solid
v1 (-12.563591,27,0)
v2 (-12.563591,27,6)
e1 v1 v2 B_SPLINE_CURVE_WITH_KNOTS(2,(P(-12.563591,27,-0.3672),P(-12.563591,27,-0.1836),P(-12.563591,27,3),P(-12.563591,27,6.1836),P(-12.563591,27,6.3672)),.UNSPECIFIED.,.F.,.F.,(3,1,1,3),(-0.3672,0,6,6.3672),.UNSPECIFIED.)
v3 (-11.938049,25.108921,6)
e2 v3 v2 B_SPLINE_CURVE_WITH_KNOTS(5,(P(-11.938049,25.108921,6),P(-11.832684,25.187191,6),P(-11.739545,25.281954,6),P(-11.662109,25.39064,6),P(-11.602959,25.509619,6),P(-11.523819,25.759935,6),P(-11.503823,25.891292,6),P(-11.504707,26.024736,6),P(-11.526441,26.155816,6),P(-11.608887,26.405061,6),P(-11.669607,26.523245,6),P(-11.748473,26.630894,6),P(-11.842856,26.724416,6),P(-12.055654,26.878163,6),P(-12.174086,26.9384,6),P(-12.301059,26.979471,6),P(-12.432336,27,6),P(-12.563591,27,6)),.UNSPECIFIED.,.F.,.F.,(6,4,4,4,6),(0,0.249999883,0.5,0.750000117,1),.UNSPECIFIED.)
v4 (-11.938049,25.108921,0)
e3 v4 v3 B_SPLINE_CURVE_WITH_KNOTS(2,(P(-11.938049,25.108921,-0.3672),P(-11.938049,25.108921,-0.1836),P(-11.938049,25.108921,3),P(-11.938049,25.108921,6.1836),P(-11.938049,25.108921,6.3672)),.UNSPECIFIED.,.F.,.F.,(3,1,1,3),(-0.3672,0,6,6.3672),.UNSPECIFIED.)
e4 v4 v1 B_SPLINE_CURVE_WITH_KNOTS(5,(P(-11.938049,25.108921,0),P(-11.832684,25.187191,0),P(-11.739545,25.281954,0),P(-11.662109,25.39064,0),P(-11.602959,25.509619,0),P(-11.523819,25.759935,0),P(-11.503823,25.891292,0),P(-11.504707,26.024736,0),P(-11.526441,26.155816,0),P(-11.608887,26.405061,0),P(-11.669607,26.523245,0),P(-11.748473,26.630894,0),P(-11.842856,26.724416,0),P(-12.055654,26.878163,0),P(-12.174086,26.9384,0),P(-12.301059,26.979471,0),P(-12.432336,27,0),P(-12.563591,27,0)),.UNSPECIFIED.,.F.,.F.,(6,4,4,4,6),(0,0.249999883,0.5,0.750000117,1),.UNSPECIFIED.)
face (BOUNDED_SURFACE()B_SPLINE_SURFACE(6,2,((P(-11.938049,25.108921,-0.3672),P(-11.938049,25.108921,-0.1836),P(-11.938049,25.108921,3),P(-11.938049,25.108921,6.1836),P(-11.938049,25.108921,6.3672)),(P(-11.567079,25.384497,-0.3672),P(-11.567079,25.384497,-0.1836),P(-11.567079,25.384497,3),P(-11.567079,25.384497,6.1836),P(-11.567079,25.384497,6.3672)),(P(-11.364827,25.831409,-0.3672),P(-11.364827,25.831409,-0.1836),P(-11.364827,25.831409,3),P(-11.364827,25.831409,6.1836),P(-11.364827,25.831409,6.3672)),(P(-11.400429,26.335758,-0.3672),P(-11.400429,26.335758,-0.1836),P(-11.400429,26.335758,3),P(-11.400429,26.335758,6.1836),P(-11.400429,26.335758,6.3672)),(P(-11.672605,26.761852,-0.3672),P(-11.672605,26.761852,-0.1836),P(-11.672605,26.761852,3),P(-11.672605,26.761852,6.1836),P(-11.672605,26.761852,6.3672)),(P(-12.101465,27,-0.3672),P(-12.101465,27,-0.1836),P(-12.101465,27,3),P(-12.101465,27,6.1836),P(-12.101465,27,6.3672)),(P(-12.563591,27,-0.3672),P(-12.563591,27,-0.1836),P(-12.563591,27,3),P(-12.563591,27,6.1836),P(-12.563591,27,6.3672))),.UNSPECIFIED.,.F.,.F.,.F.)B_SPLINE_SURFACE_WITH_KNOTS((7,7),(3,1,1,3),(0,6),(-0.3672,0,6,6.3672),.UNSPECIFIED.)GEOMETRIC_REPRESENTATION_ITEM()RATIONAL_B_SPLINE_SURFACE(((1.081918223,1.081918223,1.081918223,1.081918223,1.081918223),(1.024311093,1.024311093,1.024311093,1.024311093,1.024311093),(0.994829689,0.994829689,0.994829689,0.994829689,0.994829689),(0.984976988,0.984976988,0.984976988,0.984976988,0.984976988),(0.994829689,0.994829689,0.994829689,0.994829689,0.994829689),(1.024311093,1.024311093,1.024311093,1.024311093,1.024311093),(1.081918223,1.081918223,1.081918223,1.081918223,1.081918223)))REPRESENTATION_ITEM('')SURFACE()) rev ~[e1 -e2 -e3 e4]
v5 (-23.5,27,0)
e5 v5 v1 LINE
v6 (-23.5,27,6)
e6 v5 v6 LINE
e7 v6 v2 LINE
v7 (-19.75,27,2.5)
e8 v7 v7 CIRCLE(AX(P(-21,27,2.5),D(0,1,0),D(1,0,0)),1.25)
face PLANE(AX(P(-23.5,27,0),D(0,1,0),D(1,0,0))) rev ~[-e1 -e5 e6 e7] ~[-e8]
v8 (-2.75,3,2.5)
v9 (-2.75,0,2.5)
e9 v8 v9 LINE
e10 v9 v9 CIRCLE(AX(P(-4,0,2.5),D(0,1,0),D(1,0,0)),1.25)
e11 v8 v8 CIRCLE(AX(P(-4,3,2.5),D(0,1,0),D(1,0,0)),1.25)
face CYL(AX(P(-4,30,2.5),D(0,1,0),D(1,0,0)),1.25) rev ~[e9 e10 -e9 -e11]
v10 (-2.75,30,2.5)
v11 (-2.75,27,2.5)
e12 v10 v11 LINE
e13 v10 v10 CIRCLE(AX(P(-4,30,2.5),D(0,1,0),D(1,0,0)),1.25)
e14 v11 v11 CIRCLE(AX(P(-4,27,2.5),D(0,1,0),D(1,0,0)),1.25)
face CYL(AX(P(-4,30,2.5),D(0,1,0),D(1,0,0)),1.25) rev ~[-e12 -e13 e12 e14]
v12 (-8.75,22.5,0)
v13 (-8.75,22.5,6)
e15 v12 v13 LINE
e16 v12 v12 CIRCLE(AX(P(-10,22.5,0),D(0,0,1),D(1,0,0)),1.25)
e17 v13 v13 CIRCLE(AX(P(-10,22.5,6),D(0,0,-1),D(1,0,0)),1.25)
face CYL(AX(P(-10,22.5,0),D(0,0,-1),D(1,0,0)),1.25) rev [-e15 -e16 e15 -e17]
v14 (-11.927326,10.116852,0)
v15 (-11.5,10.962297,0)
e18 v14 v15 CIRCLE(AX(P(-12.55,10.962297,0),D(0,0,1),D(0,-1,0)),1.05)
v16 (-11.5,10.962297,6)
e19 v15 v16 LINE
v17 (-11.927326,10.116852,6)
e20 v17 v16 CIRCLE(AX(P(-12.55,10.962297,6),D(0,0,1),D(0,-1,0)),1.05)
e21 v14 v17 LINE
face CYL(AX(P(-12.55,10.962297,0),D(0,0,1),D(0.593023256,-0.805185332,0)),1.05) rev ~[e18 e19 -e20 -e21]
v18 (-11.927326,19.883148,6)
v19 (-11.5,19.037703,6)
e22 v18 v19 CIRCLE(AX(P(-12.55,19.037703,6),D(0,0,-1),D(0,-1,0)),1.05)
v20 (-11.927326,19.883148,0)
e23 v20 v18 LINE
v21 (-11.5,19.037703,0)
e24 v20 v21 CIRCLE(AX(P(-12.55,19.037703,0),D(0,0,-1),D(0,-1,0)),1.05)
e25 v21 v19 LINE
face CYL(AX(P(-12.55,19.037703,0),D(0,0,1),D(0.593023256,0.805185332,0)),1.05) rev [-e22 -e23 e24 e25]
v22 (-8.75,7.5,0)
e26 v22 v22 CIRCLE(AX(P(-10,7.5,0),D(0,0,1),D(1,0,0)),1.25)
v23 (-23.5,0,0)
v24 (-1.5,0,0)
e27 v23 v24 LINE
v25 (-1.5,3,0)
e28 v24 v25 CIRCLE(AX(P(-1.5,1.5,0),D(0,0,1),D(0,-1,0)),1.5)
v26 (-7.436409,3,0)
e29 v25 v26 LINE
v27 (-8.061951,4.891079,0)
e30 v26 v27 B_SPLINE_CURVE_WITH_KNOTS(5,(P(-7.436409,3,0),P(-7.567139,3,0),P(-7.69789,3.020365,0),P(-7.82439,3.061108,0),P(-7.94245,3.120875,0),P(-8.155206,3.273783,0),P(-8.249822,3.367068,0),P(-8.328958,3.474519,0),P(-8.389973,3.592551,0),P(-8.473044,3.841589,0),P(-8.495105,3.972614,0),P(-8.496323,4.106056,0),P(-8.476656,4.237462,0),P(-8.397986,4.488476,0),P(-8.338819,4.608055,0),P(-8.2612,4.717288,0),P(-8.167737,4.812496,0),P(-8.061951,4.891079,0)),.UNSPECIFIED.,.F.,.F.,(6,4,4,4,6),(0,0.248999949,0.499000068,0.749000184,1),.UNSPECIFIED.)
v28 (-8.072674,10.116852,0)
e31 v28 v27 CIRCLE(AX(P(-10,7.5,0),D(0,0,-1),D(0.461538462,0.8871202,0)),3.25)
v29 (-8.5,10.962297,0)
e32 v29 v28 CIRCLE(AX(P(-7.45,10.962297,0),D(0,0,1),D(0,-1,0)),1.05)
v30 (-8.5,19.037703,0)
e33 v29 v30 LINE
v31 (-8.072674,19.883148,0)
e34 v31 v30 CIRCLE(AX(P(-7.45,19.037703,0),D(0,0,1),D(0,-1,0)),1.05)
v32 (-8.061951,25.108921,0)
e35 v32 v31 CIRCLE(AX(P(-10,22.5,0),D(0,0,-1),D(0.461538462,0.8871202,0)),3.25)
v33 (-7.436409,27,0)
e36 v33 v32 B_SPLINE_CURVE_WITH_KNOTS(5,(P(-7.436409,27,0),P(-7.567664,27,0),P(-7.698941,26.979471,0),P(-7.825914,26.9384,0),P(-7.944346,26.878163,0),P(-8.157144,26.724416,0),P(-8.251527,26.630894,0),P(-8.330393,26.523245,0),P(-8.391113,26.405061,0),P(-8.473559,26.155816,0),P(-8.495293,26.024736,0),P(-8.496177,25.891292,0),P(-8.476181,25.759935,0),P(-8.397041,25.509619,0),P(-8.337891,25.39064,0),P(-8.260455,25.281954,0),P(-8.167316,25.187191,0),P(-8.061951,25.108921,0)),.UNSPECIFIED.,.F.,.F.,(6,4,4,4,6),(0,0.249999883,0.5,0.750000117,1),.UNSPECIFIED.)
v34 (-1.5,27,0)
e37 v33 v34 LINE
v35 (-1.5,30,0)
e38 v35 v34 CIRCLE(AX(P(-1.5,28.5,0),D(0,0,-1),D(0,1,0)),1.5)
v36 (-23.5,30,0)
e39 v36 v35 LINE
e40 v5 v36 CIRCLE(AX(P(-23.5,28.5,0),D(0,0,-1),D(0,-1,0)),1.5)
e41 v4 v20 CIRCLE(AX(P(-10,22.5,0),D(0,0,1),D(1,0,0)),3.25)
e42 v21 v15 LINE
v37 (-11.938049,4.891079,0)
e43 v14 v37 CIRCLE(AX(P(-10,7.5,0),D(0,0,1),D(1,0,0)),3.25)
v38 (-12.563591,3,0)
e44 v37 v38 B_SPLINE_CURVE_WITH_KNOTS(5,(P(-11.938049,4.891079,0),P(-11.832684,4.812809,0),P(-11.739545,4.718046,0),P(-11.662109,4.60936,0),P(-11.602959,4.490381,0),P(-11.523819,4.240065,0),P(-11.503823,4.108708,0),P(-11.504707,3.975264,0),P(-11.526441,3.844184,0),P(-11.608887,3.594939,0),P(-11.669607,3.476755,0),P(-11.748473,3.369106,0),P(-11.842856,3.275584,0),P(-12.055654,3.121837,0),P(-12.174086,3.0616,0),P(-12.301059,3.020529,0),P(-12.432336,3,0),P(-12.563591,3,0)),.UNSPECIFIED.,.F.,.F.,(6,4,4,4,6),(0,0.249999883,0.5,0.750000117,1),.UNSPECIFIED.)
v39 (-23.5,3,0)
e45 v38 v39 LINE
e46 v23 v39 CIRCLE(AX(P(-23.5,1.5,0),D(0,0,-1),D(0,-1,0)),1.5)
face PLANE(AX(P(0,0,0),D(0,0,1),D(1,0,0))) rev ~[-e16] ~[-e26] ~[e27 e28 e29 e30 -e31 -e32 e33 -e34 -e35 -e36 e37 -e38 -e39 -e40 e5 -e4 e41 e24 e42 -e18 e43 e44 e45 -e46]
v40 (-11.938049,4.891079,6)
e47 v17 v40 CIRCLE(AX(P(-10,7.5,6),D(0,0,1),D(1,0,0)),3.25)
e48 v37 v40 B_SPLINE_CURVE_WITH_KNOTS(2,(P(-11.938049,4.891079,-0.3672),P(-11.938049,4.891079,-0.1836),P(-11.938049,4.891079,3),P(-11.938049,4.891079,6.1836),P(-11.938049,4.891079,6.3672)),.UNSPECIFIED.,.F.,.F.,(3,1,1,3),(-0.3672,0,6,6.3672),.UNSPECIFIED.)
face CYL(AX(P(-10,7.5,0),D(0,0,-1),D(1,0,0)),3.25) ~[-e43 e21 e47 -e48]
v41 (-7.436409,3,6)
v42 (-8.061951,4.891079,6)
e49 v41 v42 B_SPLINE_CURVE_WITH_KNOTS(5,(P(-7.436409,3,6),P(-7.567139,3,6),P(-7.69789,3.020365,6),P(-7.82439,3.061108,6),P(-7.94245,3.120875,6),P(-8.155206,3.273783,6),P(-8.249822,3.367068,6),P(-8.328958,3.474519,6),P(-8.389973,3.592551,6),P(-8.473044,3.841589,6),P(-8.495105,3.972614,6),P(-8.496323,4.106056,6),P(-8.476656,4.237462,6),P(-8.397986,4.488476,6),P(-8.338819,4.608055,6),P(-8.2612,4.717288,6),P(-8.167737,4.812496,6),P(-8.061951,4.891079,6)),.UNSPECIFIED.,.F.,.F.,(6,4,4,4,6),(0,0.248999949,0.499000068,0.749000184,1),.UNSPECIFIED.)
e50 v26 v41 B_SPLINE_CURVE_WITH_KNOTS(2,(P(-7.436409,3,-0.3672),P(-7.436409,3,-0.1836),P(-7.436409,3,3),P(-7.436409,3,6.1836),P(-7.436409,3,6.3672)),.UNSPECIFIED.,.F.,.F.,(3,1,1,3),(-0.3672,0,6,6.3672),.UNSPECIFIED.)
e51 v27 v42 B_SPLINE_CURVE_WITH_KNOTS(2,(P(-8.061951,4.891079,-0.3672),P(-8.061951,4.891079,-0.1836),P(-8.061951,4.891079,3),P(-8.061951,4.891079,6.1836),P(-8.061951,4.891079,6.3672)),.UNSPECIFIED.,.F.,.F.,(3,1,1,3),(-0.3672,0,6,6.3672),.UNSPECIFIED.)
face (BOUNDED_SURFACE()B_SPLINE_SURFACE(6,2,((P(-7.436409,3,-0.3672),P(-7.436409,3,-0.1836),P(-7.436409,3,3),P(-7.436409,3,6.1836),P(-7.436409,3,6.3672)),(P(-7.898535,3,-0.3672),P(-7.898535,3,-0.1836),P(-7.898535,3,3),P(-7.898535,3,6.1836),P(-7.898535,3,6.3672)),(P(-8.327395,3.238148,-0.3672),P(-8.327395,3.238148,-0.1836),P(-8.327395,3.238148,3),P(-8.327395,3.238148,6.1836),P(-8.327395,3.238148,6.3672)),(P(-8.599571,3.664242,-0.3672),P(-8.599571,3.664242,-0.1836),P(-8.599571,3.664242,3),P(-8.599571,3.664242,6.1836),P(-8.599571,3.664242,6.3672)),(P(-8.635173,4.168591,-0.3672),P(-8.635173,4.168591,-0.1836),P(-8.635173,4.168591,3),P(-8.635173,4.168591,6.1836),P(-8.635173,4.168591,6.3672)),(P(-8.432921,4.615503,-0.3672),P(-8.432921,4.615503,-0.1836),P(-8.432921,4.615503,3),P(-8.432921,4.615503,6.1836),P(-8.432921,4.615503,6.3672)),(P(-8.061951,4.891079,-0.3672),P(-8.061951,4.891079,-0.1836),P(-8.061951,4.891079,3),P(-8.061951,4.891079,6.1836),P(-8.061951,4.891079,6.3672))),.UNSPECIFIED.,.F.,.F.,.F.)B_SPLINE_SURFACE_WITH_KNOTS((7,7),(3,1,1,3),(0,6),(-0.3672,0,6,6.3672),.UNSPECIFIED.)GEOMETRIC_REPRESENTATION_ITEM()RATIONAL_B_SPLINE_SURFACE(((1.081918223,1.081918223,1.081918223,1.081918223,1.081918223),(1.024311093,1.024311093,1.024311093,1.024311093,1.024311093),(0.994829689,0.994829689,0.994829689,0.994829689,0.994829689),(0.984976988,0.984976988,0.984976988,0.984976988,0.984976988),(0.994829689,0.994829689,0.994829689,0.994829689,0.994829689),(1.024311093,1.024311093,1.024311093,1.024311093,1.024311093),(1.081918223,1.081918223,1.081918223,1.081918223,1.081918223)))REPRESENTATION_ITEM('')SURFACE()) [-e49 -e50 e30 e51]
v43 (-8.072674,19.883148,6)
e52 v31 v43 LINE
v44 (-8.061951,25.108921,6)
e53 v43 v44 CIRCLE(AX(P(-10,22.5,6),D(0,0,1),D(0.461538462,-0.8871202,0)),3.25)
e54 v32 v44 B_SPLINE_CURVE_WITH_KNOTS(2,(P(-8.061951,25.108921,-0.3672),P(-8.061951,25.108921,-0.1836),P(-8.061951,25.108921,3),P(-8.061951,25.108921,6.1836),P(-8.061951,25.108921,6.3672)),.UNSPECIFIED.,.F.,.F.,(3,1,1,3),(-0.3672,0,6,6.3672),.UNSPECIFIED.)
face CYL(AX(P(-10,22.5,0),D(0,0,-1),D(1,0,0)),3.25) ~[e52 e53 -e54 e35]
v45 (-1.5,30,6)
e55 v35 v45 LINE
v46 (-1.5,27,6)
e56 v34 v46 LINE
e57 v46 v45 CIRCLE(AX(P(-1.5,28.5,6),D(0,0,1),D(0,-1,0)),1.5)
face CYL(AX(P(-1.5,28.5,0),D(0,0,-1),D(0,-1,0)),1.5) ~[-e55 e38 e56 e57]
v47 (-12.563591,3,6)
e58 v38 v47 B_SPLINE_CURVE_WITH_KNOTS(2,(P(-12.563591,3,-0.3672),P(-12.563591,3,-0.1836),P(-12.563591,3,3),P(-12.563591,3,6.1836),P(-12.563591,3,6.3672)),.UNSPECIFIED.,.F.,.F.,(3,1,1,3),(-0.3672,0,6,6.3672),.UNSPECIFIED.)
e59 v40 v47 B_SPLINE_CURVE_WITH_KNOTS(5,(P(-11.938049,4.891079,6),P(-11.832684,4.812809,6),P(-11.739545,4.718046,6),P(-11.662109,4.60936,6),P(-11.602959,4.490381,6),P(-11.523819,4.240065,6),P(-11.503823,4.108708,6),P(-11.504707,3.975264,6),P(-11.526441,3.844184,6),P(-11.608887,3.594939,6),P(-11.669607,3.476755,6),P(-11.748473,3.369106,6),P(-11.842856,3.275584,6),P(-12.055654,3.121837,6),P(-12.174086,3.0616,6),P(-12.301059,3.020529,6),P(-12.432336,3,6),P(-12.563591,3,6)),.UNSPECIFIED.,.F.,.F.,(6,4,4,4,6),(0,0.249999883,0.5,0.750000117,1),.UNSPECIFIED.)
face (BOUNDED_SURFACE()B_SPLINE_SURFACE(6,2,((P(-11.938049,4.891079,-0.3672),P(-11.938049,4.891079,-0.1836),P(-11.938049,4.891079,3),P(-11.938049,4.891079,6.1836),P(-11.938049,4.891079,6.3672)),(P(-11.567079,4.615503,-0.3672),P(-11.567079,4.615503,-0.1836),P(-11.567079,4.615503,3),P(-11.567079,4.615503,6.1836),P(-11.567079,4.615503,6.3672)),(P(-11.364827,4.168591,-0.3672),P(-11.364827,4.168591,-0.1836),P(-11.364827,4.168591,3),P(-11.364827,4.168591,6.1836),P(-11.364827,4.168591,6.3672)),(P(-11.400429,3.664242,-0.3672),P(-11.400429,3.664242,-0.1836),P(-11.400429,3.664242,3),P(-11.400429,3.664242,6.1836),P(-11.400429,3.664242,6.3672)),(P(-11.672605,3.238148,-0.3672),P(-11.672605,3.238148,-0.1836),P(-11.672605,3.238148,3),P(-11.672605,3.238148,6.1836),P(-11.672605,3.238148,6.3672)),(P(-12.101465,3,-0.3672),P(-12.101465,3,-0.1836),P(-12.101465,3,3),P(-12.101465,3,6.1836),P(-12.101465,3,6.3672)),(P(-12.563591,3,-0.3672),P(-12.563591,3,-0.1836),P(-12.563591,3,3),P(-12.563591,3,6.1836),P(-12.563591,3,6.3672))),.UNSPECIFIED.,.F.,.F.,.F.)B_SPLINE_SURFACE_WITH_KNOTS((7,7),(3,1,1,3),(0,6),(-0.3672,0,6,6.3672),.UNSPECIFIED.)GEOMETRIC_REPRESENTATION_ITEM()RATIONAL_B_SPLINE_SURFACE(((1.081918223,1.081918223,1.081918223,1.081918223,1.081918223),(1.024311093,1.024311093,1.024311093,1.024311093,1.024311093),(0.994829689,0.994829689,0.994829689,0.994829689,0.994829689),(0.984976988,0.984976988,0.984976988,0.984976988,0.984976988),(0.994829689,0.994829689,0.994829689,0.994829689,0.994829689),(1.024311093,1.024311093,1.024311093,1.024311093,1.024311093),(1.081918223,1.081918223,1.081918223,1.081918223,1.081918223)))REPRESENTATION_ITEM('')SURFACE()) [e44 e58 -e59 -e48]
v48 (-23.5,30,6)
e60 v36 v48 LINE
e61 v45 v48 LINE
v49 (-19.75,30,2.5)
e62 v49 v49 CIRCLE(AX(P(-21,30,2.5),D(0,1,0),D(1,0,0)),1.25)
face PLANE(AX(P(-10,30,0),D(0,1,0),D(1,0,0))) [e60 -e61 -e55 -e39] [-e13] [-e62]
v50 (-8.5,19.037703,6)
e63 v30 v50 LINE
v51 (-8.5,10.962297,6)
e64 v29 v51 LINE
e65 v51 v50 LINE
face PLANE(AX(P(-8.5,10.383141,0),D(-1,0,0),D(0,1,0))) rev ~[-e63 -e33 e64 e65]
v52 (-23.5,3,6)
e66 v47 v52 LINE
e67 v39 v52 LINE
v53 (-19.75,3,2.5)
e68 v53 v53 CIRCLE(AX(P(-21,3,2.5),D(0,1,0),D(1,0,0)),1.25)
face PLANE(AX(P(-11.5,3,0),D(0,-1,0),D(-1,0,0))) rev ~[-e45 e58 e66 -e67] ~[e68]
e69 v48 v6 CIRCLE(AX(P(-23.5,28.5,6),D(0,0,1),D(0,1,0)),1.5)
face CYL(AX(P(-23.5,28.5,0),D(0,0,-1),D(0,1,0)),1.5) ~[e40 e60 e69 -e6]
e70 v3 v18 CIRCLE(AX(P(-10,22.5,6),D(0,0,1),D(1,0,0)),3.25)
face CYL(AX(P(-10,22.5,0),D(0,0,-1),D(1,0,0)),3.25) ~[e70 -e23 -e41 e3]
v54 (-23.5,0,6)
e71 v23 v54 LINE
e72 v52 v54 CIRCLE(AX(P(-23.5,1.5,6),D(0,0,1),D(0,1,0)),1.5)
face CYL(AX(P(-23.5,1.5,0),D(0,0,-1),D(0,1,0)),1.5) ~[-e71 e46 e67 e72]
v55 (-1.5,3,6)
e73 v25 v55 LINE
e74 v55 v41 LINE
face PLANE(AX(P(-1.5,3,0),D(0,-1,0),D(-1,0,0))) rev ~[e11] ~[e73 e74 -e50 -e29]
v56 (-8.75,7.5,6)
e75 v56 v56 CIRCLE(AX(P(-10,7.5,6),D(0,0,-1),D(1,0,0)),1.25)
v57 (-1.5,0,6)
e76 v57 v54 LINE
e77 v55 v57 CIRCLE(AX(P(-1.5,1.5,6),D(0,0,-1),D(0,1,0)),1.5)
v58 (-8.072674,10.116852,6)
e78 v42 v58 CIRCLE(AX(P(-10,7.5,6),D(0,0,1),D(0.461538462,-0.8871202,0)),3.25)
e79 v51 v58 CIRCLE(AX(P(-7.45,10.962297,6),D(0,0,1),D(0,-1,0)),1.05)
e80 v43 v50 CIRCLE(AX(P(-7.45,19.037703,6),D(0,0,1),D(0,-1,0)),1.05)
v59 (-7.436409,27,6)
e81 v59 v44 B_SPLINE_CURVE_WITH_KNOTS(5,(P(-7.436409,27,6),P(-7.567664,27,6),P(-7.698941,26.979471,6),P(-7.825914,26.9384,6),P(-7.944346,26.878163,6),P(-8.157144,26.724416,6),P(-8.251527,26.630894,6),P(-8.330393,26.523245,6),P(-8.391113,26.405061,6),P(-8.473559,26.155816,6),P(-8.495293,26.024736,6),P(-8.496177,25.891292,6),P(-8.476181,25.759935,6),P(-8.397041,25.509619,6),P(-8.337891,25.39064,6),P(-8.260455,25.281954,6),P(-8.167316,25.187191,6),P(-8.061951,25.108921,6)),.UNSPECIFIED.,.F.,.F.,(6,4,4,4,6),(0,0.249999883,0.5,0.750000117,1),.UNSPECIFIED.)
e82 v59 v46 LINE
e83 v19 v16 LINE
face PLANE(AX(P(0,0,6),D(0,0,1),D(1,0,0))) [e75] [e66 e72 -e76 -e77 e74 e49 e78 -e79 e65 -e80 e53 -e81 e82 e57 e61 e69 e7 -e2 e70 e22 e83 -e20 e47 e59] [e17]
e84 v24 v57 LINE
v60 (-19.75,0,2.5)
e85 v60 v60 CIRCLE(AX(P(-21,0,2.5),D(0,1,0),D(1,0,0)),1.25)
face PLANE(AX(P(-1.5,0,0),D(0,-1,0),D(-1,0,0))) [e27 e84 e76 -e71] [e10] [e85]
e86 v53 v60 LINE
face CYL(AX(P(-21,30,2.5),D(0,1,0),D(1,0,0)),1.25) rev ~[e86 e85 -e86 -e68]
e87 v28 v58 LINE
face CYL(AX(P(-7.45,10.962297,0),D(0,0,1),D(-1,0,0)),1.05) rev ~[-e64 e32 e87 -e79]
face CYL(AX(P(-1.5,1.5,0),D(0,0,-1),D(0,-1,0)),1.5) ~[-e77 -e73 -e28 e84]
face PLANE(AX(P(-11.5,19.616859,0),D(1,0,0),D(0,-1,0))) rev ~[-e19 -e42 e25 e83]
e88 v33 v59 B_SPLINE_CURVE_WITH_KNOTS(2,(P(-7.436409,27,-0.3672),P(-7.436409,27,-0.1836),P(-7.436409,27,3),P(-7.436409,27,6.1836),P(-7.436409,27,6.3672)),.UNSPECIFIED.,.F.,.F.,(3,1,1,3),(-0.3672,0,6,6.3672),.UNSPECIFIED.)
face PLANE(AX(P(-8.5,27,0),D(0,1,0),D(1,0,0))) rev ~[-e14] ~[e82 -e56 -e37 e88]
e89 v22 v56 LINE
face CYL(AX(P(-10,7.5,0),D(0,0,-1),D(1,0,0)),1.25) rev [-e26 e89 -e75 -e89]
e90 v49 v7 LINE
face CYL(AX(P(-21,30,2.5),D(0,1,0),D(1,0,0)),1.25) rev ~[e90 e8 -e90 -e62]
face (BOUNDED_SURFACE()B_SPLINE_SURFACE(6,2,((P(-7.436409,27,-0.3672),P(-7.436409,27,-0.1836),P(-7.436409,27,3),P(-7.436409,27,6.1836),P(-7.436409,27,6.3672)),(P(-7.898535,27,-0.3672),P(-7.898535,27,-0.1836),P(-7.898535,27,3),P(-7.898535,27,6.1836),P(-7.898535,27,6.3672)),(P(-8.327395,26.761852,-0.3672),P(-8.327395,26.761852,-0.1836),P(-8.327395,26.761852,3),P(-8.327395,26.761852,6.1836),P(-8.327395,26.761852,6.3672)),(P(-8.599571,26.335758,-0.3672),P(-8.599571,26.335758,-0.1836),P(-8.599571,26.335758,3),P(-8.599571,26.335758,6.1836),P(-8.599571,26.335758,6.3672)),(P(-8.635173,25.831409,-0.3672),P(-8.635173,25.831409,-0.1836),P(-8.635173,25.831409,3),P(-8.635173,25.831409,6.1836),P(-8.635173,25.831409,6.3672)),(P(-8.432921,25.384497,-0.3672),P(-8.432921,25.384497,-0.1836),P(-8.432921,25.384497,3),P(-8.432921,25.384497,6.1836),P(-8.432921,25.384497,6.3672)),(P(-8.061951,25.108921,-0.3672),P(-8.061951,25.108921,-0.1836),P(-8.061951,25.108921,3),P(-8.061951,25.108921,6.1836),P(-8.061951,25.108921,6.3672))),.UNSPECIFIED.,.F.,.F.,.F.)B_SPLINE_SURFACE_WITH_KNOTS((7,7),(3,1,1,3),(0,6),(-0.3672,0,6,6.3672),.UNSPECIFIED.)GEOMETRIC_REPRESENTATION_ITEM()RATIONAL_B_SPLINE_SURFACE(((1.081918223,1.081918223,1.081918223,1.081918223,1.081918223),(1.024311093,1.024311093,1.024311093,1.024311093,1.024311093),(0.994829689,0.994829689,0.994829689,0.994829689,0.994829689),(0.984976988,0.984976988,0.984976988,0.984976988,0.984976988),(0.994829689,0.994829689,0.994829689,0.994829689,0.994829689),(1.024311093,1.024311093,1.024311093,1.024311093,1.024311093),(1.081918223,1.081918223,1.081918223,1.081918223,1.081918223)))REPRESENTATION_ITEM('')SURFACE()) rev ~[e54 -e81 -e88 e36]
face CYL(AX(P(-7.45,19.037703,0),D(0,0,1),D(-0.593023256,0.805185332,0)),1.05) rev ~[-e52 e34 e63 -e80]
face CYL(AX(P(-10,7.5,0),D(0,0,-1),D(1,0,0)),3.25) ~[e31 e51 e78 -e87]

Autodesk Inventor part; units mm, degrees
ref_plane "YZ Plane" through (0, 0, 0) normal (1, 0, 0) x (0, 1, 0)
ref_plane "XZ Plane" through (0, 0, 0) normal (0, 1, 0) x (-1, 0, 0)
ref_plane "XY Plane" through (0, 0, 0) normal (0, 0, 1) x (1, 0, 0)
sketch "スケッチ1" plane through (0, 0, 0) normal (0, 0, 1) x (1, 0, 0)
  line L0 (0, 0) -> (-25, 0)
  line L1 (-25, 0) -> (-25, 30)
  line L2 (-25, 30) -> (0, 30)
  line L3 (0, 30) -> (0, 0)
  circle A0 centre (-10, 22.5) radius 1.25
  circle A1 centre (-10, 7.5) radius 1.25
  line L4 (-10, 30) -> (-10, 0)
  circle A2 centre (-10, 22.5) radius 3.25
  circle A3 centre (-10, 7.5) radius 3.25
  line L5 (-23.5, 28.5) -> (-1.5, 28.5) construction
  line L6 (-23.5, 27) -> (-1.5, 27)
  line L7 (-1.5, 30) -> (-23.5, 30)
  arc A4 (-23.5, 30) -> (-23.5, 27) centre (-23.5, 28.5) ccw
  arc A5 (-1.5, 27) -> (-1.5, 30) centre (-1.5, 28.5) ccw
  line L8 (-23.5, 1.5) -> (-1.5, 1.5) construction
  line L9 (-23.5, 0) -> (-1.5, 0)
  line L10 (-1.5, 3) -> (-23.5, 3)
  arc A6 (-23.5, 3) -> (-23.5, 0) centre (-23.5, 1.5) ccw
  arc A7 (-1.5, 0) -> (-1.5, 3) centre (-1.5, 1.5) ccw
  line L11 (-10, 28.5) -> (-10, 1.5) construction
  line L12 (-11.5, 28.5) -> (-11.5, 1.5)
  line L13 (-8.5, 1.5) -> (-8.5, 28.5)
  arc A8 (-8.5, 28.5) -> (-11.5, 28.5) centre (-10, 28.5) ccw
  arc A9 (-11.5, 1.5) -> (-8.5, 1.5) centre (-10, 1.5) ccw
  point P0 (-12.5, 28.5)
  point P1 (-12.5, 1.5)
  point P2 (-10, 15)
  point P3 (-11.5, 4.6169)
  point P4 (-11.5, 3)
  point P5 (-1.5, 0)
  point P6 (-8.5, 3)
  point P7 (-8.5, 4.6169)
  point P8 (-8.5, 10.3831)
  point P9 (-8.5, 19.6169)
  point P10 (-8.5, 25.3831)
  point P11 (-8.5, 27)
  point P12 (-11.5, 27)
  point P13 (-11.5, 25.3831)
  point P14 (-11.5, 19.6169)
  point P15 (-11.5, 10.3831)
  dimension "d0" = 25
  dimension "d1" = 30
  dimension "d2" = 2.5
  dimension "d3" = 2.5
  dimension "d4" = 10
  dimension "d5" = 15
  dimension "d6" = 2
  dimension "d7" = 2
  dimension "d8" = 3
  dimension "d9" = 3
  dimension "d10" = 3
  dimension "d11" = 6
extrude "押し出し1" add sketch "スケッチ1" along normal blind 6 contours L0 A9 L13 L10 A7 | A9 L12 L10 L4 | L0 A6 L10 L12 A9 | L4 L10 L13 A9 | A5 L6 L13 A8 L2 | L10 L12 A3 L4 | L4 A3 L13 L10 | A3 L12 L4 A1 | L4 A1 A3 L13 | L13 A2 L4 L6 | L6 L4 A8 L13 | A8 L12 L6 A4 L2 | L4 L6 L12 A8 | L13 A3 | A3 L12 | L4 A2 L12 L6 | L13 A2 L4 A0 | A2 L13 | A3 L4 A2 L13 | L12 A2 L4 A3 | L4 A0 A2 L12 | A2 L12
fillet "フィレット1" radius 1.05 12 edges at (-11.5, 25.3831, 3) (-11.5, 27, 3) (-11.5, 19.6169, 3) (-8.5, 27, 3) (-8.5, 25.3831, 3) (-8.5, 19.6169, 3) (-8.5, 10.3831, 3) (-8.5, 4.6169, 3) (-11.5, 4.6169, 3) (-11.5, 10.3831, 3) (-11.5, 3, 3) (-8.5, 3, 3)
thread "ねじ1" size "M3x0.5" class "6H" standard "ANSI Metric M Profile" full length
thread "ねじ2" size "M3x0.5" class "6H" standard "ANSI Metric M Profile" full length
sketch "スケッチ2" plane through (-23.5, 30, 0) normal (0, 1, 0) x (1, 0, 0)
  line L0 (22, 0) -> (0, 0) projected
  line L1 (0, 0) -> (0, -6) projected
  line L2 (22, -6) -> (0, -6) projected
  line L3 (22, 0) -> (22, -6) projected
  circle A0 centre (2.5, -2.5) radius 2.5
  line L4 (22, 0) -> (0, 0) projected
  line L5 (0, 0) -> (0, -6) projected
  circle A1 centre (19.5, -2.5) radius 2.5
  line L6 (22, 0) -> (22, -6) projected
  circle A2 centre (2.5, -2.5) radius 1.25
  circle A3 centre (19.5, -2.5) radius 1.25
  point P0 (23.5, 0)
  dimension "d19" = 5
  dimension "d20" = 5
  dimension "d21" = 2.5
  dimension "d22" = 2.5
extrude "押し出し2" cut sketch "スケッチ2" against normal blind 30 contours A2 | A3
thread "ねじ3" size "M3x0.5" class "6H" standard "ANSI Metric M Profile" full length
thread "ねじ4" size "M3x0.5" class "6H" standard "ANSI Metric M Profile" full length
thread "ねじ5" size "M3x0.5" class "6H" standard "ANSI Metric M Profile" full length
thread "ねじ6" size "M3x0.5" class "6H" standard "ANSI Metric M Profile" full length
properties part number "ウィング土台" material "アルミニウム 7075"
